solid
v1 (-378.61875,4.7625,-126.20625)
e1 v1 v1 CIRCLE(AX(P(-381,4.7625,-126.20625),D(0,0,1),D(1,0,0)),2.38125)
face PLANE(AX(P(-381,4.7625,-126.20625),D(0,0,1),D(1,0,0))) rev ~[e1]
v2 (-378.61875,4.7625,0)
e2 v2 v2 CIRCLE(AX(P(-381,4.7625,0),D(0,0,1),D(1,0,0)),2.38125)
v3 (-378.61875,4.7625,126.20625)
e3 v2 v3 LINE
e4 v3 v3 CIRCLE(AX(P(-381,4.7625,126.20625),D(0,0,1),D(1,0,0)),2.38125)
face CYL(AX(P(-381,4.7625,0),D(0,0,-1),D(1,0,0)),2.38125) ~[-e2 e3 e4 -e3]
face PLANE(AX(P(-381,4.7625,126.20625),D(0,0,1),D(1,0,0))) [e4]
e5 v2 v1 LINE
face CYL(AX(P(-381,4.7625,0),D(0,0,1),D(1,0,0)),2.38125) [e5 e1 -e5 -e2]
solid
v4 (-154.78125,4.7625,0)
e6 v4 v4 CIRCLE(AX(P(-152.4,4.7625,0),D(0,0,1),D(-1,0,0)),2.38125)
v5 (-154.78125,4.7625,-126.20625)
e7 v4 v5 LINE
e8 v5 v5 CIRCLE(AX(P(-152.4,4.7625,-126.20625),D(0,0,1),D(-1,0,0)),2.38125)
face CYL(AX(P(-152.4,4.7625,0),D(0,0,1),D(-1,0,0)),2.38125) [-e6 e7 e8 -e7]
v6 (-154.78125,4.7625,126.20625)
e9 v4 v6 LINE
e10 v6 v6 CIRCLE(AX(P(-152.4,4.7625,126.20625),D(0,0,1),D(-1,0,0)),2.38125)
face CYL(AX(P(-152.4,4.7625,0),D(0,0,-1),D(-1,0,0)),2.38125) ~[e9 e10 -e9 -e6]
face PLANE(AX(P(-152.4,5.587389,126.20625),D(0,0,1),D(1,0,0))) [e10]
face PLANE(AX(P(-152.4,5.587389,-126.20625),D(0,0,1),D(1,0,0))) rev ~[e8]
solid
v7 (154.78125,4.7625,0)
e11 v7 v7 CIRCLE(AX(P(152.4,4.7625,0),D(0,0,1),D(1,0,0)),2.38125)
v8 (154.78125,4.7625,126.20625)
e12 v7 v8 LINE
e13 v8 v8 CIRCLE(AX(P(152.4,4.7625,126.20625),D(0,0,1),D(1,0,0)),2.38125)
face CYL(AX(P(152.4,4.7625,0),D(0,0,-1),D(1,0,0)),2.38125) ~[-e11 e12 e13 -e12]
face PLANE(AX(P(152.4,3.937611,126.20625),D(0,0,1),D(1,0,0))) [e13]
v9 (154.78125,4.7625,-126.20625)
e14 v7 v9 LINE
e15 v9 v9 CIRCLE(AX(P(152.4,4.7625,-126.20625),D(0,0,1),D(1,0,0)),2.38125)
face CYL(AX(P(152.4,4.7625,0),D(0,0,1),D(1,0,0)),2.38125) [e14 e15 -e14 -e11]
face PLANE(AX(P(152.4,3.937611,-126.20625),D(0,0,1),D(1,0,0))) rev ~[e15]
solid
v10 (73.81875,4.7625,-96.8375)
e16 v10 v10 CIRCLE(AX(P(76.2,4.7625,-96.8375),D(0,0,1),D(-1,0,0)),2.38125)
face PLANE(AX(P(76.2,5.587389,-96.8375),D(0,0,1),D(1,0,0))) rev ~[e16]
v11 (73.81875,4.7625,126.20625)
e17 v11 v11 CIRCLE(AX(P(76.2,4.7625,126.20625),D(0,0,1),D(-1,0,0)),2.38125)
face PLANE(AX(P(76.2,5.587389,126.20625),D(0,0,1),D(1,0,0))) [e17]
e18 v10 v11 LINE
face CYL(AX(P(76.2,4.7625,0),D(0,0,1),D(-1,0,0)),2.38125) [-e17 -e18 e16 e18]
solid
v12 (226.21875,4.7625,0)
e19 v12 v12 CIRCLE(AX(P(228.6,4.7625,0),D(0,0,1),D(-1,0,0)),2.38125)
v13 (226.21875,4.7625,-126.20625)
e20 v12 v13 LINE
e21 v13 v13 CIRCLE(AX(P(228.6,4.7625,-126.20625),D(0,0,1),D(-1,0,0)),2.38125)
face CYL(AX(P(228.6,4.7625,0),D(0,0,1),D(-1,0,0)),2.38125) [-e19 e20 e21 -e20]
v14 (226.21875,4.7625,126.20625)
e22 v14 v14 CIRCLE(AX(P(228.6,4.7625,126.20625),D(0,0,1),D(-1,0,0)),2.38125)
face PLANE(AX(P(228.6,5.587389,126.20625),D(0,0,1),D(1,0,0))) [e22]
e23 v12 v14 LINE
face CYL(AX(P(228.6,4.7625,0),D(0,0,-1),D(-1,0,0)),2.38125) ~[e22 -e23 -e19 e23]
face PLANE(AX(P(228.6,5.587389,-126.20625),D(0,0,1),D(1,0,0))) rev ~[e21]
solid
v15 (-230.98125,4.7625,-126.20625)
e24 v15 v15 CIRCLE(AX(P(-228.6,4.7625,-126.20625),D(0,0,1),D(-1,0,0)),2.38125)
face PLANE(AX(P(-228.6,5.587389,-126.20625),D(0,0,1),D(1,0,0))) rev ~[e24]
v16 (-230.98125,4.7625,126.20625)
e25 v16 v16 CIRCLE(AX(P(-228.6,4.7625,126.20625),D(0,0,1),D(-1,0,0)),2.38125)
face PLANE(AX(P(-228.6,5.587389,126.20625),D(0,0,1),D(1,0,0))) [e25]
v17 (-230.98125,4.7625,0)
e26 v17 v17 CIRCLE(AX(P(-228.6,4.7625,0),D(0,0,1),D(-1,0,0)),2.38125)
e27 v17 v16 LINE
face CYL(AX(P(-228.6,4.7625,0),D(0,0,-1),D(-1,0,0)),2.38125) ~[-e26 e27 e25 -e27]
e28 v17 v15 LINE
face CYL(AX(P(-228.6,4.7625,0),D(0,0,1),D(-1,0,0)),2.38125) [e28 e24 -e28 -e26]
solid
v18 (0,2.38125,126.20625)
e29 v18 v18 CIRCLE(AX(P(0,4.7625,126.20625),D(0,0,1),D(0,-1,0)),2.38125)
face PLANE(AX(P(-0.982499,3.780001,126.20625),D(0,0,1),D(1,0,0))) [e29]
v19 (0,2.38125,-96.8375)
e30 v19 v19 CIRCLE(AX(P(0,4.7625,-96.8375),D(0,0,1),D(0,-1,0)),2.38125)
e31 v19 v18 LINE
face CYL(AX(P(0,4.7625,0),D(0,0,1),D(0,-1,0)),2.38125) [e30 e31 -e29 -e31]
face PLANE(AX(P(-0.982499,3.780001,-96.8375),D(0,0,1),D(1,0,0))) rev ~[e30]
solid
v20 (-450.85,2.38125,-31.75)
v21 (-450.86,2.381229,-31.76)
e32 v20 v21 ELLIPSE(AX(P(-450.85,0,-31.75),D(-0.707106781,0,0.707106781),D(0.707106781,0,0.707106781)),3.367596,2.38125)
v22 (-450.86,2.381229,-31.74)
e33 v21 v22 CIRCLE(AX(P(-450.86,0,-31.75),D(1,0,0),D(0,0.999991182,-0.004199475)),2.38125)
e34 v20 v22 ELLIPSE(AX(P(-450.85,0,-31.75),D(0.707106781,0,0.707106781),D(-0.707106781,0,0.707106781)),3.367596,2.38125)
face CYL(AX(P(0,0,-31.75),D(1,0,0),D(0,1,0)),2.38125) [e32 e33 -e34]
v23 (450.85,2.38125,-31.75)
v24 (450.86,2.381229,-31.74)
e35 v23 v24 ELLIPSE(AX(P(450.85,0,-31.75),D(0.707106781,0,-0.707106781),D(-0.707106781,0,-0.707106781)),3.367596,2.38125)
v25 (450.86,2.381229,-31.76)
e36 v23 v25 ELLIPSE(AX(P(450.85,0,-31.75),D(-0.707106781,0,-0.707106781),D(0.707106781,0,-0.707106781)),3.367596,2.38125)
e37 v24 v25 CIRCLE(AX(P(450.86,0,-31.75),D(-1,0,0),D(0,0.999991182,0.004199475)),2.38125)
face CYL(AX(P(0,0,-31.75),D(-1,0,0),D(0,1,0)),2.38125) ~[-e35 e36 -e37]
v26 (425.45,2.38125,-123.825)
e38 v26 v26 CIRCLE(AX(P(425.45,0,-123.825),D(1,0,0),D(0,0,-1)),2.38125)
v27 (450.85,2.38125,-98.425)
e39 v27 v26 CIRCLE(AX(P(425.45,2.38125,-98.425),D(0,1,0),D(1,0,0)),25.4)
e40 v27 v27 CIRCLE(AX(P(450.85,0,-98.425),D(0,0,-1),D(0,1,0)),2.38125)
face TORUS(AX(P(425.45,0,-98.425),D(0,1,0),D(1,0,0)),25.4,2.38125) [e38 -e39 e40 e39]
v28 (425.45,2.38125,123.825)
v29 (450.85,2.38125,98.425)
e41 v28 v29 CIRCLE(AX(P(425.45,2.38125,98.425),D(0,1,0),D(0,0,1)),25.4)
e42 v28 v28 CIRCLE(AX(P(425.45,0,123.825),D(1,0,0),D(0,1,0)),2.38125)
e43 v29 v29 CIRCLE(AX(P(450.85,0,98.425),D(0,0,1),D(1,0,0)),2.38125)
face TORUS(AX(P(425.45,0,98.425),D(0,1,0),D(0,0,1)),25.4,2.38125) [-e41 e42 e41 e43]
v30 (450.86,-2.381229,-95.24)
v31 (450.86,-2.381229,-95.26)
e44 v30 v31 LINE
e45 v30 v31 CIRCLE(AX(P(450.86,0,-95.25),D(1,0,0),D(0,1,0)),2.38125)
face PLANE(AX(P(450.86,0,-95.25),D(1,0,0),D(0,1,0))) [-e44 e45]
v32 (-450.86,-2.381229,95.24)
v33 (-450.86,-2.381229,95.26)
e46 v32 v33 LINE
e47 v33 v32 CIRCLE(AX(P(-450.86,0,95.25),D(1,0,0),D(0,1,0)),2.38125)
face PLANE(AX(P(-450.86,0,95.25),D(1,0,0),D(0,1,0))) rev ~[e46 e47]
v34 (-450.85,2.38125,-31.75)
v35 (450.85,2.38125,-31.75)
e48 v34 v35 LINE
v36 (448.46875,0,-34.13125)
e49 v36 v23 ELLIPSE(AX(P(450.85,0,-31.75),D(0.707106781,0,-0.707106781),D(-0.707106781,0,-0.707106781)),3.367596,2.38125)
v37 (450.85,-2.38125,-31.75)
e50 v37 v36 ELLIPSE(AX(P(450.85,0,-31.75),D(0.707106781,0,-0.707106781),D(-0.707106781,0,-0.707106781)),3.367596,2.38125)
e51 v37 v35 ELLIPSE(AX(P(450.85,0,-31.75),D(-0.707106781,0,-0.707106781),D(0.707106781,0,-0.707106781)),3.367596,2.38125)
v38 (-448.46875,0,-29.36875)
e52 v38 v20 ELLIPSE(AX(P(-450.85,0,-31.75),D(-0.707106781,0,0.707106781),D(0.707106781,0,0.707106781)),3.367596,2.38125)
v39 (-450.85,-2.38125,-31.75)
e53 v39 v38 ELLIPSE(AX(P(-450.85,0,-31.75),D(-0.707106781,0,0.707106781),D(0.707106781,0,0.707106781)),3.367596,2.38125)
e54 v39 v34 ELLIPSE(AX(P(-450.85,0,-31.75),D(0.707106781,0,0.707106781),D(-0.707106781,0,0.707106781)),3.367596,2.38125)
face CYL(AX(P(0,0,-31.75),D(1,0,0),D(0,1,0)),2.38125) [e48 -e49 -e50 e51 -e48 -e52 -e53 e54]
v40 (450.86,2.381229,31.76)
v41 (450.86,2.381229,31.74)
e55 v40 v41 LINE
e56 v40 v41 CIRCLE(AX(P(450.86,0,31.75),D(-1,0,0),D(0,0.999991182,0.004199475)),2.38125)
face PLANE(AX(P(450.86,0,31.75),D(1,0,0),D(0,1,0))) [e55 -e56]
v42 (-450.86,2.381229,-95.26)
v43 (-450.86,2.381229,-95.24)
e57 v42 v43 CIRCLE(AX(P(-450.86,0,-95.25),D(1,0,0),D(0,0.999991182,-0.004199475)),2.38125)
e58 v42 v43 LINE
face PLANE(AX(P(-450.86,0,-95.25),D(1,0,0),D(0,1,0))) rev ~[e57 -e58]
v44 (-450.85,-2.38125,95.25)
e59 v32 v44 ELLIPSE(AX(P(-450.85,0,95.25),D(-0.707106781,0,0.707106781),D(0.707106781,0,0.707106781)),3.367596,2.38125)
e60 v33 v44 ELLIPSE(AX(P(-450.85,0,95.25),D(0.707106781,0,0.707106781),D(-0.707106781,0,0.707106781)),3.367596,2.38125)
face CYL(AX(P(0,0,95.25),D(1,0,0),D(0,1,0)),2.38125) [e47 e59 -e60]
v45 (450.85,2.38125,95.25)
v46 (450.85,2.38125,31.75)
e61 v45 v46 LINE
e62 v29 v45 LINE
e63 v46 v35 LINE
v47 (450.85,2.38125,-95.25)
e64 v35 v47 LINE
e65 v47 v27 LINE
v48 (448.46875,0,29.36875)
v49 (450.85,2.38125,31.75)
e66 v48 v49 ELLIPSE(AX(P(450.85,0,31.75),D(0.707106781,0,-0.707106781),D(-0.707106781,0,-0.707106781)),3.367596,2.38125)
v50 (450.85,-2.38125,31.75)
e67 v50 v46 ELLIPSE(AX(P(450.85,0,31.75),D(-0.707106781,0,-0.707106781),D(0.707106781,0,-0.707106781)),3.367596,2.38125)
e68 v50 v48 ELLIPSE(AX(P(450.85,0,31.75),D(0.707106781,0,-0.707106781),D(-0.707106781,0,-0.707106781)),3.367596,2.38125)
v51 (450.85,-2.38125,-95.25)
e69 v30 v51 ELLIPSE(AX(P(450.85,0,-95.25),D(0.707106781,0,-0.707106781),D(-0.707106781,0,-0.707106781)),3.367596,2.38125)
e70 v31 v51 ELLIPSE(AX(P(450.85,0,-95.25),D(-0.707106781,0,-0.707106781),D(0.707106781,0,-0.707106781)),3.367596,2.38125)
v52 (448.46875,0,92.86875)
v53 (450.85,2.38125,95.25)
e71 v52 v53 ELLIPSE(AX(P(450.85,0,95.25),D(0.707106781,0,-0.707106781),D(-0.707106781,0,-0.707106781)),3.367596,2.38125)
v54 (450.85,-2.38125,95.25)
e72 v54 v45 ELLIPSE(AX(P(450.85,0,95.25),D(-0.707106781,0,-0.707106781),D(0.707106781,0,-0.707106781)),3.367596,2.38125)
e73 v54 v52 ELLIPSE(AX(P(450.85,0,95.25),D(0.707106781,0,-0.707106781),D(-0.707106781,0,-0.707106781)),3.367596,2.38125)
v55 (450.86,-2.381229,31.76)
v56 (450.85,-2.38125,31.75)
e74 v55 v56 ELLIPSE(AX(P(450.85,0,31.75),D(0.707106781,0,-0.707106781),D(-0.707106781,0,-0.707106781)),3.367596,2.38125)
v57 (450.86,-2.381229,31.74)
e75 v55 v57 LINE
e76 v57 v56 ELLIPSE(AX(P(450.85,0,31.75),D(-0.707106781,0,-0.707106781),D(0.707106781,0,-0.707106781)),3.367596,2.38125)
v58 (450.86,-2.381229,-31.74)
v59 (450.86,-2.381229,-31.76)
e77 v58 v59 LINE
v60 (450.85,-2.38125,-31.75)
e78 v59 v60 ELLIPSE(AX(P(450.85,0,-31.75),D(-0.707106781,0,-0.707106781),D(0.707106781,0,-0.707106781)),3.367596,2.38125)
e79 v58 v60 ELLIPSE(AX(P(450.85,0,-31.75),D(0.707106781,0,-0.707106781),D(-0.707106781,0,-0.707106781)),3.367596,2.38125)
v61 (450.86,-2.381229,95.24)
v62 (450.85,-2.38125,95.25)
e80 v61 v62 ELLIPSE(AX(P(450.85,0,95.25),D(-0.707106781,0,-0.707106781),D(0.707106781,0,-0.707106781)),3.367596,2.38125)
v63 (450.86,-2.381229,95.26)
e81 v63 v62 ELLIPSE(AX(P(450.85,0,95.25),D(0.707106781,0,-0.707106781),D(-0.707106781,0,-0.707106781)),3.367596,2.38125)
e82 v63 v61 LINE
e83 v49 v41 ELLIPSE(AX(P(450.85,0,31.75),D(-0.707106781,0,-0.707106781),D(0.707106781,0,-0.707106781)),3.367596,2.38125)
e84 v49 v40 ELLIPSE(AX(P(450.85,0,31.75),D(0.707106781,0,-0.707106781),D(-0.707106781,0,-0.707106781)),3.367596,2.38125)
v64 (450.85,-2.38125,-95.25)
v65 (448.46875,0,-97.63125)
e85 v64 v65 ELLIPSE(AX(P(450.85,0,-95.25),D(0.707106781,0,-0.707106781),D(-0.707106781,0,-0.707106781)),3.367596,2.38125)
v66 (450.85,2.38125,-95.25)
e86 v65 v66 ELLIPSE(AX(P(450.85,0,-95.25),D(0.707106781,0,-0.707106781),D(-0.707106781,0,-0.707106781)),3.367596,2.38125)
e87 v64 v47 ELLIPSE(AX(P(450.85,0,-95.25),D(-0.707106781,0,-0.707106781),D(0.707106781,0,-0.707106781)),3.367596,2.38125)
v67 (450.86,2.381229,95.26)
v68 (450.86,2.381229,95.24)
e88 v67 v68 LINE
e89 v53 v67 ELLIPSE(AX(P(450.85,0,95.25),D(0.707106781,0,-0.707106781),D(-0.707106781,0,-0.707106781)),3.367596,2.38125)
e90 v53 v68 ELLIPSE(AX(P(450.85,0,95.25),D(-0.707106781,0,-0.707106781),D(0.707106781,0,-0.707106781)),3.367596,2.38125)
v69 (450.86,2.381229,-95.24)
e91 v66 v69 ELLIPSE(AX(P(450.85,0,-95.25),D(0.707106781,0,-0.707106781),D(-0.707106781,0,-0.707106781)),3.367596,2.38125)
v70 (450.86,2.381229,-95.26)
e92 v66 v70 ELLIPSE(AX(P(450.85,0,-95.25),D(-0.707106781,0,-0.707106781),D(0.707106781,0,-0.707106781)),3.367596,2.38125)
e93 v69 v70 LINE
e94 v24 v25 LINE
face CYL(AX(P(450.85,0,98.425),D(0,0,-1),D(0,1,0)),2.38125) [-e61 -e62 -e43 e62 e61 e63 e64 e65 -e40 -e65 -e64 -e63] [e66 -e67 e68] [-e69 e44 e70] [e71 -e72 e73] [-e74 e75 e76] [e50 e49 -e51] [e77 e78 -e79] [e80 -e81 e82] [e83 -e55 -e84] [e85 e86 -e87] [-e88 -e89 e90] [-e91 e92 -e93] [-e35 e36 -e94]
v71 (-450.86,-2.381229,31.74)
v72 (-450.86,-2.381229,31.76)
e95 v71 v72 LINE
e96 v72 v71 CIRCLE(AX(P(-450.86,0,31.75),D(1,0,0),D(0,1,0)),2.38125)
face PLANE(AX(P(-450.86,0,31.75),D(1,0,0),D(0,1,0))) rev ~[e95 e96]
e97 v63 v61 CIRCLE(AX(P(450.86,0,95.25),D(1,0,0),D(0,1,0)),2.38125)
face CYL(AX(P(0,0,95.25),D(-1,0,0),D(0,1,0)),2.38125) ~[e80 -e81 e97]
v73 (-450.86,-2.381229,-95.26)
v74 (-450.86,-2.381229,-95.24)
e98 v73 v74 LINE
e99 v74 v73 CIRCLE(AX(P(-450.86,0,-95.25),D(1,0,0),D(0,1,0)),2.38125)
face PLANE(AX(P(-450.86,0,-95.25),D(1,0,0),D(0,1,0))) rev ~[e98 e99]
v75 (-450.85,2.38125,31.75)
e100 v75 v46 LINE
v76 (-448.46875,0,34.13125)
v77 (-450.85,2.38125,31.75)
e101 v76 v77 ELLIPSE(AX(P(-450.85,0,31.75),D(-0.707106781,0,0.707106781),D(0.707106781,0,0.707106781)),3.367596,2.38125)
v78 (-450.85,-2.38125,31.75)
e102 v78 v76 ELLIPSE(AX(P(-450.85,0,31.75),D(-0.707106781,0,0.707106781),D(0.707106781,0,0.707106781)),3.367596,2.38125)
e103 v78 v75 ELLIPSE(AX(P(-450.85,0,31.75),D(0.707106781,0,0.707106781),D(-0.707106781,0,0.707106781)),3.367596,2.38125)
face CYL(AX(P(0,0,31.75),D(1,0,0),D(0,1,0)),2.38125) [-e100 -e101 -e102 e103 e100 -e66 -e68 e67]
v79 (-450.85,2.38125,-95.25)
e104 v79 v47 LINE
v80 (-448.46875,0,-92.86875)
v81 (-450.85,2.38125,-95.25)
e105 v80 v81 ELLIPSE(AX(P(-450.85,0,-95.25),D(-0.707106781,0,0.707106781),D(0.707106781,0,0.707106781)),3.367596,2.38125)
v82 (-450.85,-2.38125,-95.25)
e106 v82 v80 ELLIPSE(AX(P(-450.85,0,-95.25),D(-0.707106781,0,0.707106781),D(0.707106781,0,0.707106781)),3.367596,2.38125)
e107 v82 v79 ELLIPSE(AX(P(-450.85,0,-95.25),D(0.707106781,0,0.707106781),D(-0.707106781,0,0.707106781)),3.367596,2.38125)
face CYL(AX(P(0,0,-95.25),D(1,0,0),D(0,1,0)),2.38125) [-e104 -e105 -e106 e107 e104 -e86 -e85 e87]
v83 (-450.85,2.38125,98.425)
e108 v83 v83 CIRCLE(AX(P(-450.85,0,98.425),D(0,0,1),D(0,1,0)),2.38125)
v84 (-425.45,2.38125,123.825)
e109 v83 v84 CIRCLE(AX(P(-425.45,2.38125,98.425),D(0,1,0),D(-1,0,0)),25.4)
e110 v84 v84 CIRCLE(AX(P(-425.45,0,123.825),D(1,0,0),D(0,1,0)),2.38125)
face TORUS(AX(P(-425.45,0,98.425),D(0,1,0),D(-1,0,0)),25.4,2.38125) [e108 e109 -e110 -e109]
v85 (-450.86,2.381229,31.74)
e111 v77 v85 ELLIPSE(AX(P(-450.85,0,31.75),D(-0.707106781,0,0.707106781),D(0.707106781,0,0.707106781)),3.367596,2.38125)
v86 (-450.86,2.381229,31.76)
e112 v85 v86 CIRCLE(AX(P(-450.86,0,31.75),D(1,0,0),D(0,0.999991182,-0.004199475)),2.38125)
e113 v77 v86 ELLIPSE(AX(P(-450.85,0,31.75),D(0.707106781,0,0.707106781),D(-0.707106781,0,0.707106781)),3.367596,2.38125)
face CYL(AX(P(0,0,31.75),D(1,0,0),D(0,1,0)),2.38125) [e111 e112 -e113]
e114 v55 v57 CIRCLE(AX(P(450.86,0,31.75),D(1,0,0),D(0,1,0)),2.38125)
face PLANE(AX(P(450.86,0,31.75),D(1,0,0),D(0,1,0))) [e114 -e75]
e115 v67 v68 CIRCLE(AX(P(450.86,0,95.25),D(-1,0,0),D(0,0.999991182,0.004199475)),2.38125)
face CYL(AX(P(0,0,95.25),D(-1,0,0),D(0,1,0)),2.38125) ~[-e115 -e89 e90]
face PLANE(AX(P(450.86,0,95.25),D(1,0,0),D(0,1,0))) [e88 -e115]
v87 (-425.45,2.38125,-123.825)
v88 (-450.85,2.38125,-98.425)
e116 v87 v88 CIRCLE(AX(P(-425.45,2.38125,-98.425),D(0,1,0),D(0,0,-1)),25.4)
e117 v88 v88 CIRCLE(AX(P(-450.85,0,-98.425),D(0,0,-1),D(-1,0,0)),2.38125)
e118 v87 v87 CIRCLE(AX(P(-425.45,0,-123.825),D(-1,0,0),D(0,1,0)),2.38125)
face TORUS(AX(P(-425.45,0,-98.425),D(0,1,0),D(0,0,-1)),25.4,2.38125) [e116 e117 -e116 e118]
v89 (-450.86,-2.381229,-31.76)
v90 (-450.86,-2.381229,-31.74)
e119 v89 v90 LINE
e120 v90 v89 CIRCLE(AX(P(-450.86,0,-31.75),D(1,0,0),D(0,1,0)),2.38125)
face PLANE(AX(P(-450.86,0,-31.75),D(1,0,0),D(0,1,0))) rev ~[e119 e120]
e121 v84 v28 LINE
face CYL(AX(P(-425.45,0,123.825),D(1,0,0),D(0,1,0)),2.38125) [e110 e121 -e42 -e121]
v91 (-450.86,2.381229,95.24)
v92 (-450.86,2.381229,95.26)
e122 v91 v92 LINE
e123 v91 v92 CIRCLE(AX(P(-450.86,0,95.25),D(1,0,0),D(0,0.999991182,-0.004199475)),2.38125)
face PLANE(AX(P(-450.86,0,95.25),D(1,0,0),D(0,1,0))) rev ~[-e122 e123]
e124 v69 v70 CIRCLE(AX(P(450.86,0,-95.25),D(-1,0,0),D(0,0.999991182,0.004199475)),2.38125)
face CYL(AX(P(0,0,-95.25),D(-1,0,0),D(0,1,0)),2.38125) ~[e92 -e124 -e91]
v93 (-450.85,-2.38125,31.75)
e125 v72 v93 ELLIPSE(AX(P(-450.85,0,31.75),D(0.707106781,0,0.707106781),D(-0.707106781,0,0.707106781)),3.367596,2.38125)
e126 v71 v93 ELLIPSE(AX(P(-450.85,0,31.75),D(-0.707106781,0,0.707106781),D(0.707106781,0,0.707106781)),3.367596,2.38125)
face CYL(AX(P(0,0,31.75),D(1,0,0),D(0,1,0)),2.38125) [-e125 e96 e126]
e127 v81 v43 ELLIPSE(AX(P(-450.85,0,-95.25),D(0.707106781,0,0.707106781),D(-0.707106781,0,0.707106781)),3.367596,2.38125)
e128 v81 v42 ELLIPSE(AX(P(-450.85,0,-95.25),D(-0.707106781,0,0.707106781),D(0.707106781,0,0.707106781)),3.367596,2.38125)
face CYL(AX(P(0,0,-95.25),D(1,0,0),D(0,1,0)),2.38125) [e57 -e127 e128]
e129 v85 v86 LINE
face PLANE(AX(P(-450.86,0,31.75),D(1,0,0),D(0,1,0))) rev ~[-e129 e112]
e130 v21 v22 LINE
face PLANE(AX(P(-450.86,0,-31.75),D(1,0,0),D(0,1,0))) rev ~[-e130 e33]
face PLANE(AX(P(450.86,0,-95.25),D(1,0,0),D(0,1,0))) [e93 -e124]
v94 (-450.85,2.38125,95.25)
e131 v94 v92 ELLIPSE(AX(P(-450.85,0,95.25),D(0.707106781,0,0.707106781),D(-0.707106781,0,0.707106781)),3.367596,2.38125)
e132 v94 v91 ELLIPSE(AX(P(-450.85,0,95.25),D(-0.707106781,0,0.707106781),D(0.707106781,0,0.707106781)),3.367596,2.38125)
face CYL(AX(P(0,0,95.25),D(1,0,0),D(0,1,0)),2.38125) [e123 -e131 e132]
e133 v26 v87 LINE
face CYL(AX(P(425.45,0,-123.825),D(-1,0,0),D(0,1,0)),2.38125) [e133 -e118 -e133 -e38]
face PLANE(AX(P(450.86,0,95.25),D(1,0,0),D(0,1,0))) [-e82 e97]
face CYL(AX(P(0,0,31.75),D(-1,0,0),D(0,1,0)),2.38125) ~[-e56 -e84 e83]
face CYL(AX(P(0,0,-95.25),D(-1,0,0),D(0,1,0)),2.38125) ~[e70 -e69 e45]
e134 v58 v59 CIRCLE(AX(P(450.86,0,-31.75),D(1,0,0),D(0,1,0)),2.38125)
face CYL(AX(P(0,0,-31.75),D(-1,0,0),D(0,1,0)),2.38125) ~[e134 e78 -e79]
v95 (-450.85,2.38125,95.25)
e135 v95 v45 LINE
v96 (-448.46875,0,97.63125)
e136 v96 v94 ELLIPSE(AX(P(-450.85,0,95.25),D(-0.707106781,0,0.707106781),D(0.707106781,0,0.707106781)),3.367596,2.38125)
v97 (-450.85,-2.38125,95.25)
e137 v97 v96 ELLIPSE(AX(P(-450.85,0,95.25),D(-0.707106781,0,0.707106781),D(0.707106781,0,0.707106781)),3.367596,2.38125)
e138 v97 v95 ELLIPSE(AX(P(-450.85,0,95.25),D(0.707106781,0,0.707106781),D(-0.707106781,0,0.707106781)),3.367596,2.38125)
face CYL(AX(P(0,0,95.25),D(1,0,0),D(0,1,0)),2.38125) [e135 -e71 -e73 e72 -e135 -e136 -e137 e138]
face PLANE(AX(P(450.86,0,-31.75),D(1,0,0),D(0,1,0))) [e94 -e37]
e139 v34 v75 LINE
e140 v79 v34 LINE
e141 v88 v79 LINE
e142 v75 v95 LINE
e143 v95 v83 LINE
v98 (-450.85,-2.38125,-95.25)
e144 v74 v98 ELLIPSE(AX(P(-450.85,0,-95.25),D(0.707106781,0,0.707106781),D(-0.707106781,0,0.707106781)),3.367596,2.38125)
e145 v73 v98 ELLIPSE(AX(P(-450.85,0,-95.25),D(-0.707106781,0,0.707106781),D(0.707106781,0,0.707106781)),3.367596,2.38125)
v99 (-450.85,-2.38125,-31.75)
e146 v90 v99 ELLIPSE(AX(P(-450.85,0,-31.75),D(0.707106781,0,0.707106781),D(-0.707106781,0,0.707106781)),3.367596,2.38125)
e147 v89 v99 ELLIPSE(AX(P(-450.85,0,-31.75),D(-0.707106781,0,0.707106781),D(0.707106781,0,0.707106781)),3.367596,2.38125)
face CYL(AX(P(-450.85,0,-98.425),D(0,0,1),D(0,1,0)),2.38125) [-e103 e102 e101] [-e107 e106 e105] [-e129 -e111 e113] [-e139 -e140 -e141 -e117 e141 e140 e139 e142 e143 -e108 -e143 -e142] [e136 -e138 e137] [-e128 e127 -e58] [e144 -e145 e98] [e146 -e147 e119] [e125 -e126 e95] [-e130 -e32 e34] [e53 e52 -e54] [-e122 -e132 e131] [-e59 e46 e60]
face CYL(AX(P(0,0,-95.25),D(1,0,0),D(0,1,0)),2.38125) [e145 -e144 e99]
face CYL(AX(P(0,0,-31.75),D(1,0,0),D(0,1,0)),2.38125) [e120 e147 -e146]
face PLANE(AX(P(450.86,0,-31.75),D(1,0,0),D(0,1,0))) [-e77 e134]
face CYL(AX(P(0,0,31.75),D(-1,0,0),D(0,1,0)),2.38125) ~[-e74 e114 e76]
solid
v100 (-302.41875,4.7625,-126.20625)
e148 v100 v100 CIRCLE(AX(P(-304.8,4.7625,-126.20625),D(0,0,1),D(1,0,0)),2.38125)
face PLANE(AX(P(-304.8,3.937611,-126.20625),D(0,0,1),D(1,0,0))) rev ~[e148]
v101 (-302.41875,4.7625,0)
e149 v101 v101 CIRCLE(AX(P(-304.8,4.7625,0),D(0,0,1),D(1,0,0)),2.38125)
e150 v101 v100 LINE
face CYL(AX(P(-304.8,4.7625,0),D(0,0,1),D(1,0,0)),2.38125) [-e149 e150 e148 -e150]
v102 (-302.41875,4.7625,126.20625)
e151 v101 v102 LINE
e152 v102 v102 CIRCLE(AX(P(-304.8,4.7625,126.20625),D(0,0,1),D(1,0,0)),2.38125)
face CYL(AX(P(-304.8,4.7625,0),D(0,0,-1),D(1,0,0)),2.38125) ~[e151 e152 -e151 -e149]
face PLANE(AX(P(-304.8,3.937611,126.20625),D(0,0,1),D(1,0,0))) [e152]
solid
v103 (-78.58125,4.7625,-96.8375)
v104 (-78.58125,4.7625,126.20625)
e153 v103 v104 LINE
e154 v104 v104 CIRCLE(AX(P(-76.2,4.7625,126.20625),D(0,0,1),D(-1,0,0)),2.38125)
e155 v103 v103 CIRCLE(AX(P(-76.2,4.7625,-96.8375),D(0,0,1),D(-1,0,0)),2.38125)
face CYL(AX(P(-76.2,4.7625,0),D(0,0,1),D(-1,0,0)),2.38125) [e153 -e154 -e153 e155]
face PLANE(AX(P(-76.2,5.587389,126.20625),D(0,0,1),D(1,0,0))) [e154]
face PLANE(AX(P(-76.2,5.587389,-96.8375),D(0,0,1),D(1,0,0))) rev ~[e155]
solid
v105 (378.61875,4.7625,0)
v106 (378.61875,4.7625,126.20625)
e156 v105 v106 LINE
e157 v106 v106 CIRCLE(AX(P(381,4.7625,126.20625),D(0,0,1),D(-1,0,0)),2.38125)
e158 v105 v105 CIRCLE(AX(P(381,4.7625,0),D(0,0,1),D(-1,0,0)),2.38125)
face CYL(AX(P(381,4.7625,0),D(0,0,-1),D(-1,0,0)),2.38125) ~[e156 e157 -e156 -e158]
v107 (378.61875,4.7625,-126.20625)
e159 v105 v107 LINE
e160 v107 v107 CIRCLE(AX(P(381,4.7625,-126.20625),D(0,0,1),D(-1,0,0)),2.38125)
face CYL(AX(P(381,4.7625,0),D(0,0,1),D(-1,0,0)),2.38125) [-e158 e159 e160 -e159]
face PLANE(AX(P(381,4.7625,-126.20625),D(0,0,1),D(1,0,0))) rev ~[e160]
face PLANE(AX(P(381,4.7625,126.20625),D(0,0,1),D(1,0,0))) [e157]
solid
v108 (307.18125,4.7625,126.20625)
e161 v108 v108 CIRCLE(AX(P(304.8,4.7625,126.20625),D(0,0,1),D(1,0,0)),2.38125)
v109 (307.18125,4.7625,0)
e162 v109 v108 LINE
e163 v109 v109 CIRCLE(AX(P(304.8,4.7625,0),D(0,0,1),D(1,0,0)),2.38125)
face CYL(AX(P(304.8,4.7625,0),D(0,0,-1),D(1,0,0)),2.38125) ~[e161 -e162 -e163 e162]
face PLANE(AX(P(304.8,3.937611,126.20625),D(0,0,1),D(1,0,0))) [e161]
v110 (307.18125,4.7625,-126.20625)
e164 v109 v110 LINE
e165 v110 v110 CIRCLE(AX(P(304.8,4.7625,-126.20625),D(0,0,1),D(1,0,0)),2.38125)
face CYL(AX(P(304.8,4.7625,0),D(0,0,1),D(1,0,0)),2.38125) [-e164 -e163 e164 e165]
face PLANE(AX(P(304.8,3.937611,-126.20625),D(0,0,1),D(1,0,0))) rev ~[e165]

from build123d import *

# Parameters (mm, degrees)
F1_R          = 2.38125
F3_R          = 2.38125
F4_DEPTH      = 126.20625
F4_DEPTH_BACK = 126.20625
F5_R          = 2.38125
F6_DEPTH      = 450.86
F6_DEPTH_BACK = 450.86
F7_DEPTH      = 126.20625
F7_DEPTH_BACK = 96.8375


with BuildPart() as f2:
    # F2: sweep along a path in F0
    with BuildLine(Plane.XZ) as f2_path:
        Line((-425.45, 123.825), (425.45, 123.825))
        ThreePointArc((425.45, 123.825), (443.4105122421, 116.3855122421), (450.85, 98.425))
        Line((450.85, 98.425), (450.85, -98.425))
        ThreePointArc((450.85, -98.425), (443.4105122421, -116.3855122421), (425.45, -123.825))
        Line((425.45, -123.825), (-425.45, -123.825))
        ThreePointArc((-425.45, -123.825), (-443.4105122421, -116.3855122421), (-450.85, -98.425))
        Line((-450.85, -98.425), (-450.85, 98.425))
        ThreePointArc((-450.85, 98.425), (-443.4105122421, 116.3855122421), (-425.45, 123.825))
    # F1 (on Right) → F2 (sweep)
    with BuildSketch(Plane.YZ):
        with Locations((0, 123.825)):
            Circle(F1_R)
    sweep(path=f2_path.line)

    # F3 (on Top) → F4 (join, two sides)
    with BuildSketch(Plane.XY) as f4_sk:
        with Locations((-381, 4.7625)):
            Circle(F3_R)
        with BuildLine():
            Line((-304.8, 4.7625), (-307.18125, 4.7625))
            ThreePointArc((-307.18125, 4.7625), (-304.8, 2.38125), (-302.41875, 4.7625))
            Line((-302.41875, 4.7625), (-304.8, 4.7625))
        make_face()
        with BuildLine():
            ThreePointArc((-302.41875, 4.7625), (-304.8, 7.14375), (-307.18125, 4.7625))
            Line((-307.18125, 4.7625), (-304.8, 4.7625))
            Line((-304.8, 4.7625), (-302.41875, 4.7625))
        make_face()
        with BuildLine():
            ThreePointArc((-226.21875, 4.7625), (-228.6, 7.14375), (-230.98125, 4.7625))
            Line((-230.98125, 4.7625), (-228.6, 4.7625))
            Line((-228.6, 4.7625), (-226.21875, 4.7625))
        make_face()
        with BuildLine():
            Line((-228.6, 4.7625), (-230.98125, 4.7625))
            ThreePointArc((-230.98125, 4.7625), (-228.6, 2.38125), (-226.21875, 4.7625))
            Line((-226.21875, 4.7625), (-228.6, 4.7625))
        make_face()
        with BuildLine():
            ThreePointArc((-150.01875, 4.7625), (-152.4, 7.14375), (-154.78125, 4.7625))
            Line((-154.78125, 4.7625), (-152.4, 4.7625))
            Line((-152.4, 4.7625), (-150.01875, 4.7625))
        make_face()
        with BuildLine():
            Line((-152.4, 4.7625), (-154.78125, 4.7625))
            ThreePointArc((-154.78125, 4.7625), (-152.4, 2.38125), (-150.01875, 4.7625))
            Line((-150.01875, 4.7625), (-152.4, 4.7625))
        make_face()
        with BuildLine():
            Line((152.4, 4.7625), (150.01875, 4.7625))
            ThreePointArc((150.01875, 4.7625), (152.4, 2.38125), (154.78125, 4.7625))
            Line((154.78125, 4.7625), (152.4, 4.7625))
        make_face()
        with BuildLine():
            ThreePointArc((154.78125, 4.7625), (152.4, 7.14375), (150.01875, 4.7625))
            Line((150.01875, 4.7625), (152.4, 4.7625))
            Line((152.4, 4.7625), (154.78125, 4.7625))
        make_face()
        with BuildLine():
            ThreePointArc((230.98125, 4.7625), (228.6, 7.14375), (226.21875, 4.7625))
            Line((226.21875, 4.7625), (228.6, 4.7625))
            Line((228.6, 4.7625), (230.98125, 4.7625))
        make_face()
        with BuildLine():
            Line((228.6, 4.7625), (226.21875, 4.7625))
            ThreePointArc((226.21875, 4.7625), (228.6, 2.38125), (230.98125, 4.7625))
            Line((230.98125, 4.7625), (228.6, 4.7625))
        make_face()
        with BuildLine():
            ThreePointArc((383.38125, 4.7625), (381, 7.14375), (378.61875, 4.7625))
            ThreePointArc((378.61875, 4.7625), (381, 2.38125), (383.38125, 4.7625))
        make_face()
        with BuildLine():
            Line((304.8, 4.7625), (302.41875, 4.7625))
            ThreePointArc((302.41875, 4.7625), (304.8, 2.38125), (307.18125, 4.7625))
            Line((307.18125, 4.7625), (304.8, 4.7625))
        make_face()
        with BuildLine():
            ThreePointArc((307.18125, 4.7625), (304.8, 7.14375), (302.41875, 4.7625))
            Line((302.41875, 4.7625), (304.8, 4.7625))
            Line((304.8, 4.7625), (307.18125, 4.7625))
        make_face()
    extrude(amount=F4_DEPTH)
    extrude(f4_sk.sketch, amount=-F4_DEPTH_BACK)

    # F5 (on Right) → F6 (join, two sides)
    with BuildSketch(Plane.YZ) as f6_sk:
        with Locations((0, -31.75)):
            Circle(F5_R)
        with Locations((0, 31.75)):
            Circle(F5_R)
        with Locations((0, 95.25)):
            Circle(F5_R)
        with Locations((0, -95.25)):
            Circle(F5_R)
    extrude(amount=F6_DEPTH)
    extrude(f6_sk.sketch, amount=-F6_DEPTH_BACK)


with BuildPart() as f7:
    # F3 (on Top) → F7 (new body, two sides)
    with BuildSketch(Plane.XY) as f7_sk:
        with BuildLine():
            ThreePointArc((-73.81875, 4.7625), (-76.2, 7.14375), (-78.58125, 4.7625))
            Line((-78.58125, 4.7625), (-76.2, 4.7625))
            Line((-76.2, 4.7625), (-73.81875, 4.7625))
        make_face()
        with BuildLine():
            Line((-76.2, 4.7625), (-78.58125, 4.7625))
            ThreePointArc((-78.58125, 4.7625), (-76.2, 2.38125), (-73.81875, 4.7625))
            Line((-73.81875, 4.7625), (-76.2, 4.7625))
        make_face()
    extrude(amount=F7_DEPTH)
    extrude(f7_sk.sketch, amount=-F7_DEPTH_BACK)


with BuildPart() as f7b:
    # F3 (on Top) → F7, piece 2 (new body, two sides)
    with BuildSketch(Plane.XY) as f7_2_sk:
        with BuildLine():
            Line((0, 4.7625), (-2.38125, 4.7625))
            ThreePointArc((-2.38125, 4.7625), (-1.6837980227, 3.0787019773), (0, 2.38125))
            Line((0, 2.38125), (0, 4.7625))
        make_face()
        with BuildLine():
            ThreePointArc((2.38125, 4.7625), (0, 7.14375), (-2.38125, 4.7625))
            Line((-2.38125, 4.7625), (0, 4.7625))
            Line((0, 4.7625), (2.38125, 4.7625))
        make_face()
        with BuildLine():
            ThreePointArc((0, 2.38125), (1.6837980227, 3.0787019773), (2.38125, 4.7625))
            Line((2.38125, 4.7625), (0, 4.7625))
            Line((0, 4.7625), (0, 2.38125))
        make_face()
    extrude(amount=F7_DEPTH)
    extrude(f7_2_sk.sketch, amount=-F7_DEPTH_BACK)


with BuildPart() as f7c:
    # F3 (on Top) → F7, piece 3 (new body, two sides)
    with BuildSketch(Plane.XY) as f7_3_sk:
        with BuildLine():
            ThreePointArc((78.58125, 4.7625), (76.2, 7.14375), (73.81875, 4.7625))
            Line((73.81875, 4.7625), (76.2, 4.7625))
            Line((76.2, 4.7625), (78.58125, 4.7625))
        make_face()
        with BuildLine():
            Line((76.2, 4.7625), (73.81875, 4.7625))
            ThreePointArc((73.81875, 4.7625), (76.2, 2.38125), (78.58125, 4.7625))
            Line((78.58125, 4.7625), (76.2, 4.7625))
        make_face()
    extrude(amount=F7_DEPTH)
    extrude(f7_3_sk.sketch, amount=-F7_DEPTH_BACK)


solid = Compound([f2.part, f7.part, f7b.part, f7c.part])
